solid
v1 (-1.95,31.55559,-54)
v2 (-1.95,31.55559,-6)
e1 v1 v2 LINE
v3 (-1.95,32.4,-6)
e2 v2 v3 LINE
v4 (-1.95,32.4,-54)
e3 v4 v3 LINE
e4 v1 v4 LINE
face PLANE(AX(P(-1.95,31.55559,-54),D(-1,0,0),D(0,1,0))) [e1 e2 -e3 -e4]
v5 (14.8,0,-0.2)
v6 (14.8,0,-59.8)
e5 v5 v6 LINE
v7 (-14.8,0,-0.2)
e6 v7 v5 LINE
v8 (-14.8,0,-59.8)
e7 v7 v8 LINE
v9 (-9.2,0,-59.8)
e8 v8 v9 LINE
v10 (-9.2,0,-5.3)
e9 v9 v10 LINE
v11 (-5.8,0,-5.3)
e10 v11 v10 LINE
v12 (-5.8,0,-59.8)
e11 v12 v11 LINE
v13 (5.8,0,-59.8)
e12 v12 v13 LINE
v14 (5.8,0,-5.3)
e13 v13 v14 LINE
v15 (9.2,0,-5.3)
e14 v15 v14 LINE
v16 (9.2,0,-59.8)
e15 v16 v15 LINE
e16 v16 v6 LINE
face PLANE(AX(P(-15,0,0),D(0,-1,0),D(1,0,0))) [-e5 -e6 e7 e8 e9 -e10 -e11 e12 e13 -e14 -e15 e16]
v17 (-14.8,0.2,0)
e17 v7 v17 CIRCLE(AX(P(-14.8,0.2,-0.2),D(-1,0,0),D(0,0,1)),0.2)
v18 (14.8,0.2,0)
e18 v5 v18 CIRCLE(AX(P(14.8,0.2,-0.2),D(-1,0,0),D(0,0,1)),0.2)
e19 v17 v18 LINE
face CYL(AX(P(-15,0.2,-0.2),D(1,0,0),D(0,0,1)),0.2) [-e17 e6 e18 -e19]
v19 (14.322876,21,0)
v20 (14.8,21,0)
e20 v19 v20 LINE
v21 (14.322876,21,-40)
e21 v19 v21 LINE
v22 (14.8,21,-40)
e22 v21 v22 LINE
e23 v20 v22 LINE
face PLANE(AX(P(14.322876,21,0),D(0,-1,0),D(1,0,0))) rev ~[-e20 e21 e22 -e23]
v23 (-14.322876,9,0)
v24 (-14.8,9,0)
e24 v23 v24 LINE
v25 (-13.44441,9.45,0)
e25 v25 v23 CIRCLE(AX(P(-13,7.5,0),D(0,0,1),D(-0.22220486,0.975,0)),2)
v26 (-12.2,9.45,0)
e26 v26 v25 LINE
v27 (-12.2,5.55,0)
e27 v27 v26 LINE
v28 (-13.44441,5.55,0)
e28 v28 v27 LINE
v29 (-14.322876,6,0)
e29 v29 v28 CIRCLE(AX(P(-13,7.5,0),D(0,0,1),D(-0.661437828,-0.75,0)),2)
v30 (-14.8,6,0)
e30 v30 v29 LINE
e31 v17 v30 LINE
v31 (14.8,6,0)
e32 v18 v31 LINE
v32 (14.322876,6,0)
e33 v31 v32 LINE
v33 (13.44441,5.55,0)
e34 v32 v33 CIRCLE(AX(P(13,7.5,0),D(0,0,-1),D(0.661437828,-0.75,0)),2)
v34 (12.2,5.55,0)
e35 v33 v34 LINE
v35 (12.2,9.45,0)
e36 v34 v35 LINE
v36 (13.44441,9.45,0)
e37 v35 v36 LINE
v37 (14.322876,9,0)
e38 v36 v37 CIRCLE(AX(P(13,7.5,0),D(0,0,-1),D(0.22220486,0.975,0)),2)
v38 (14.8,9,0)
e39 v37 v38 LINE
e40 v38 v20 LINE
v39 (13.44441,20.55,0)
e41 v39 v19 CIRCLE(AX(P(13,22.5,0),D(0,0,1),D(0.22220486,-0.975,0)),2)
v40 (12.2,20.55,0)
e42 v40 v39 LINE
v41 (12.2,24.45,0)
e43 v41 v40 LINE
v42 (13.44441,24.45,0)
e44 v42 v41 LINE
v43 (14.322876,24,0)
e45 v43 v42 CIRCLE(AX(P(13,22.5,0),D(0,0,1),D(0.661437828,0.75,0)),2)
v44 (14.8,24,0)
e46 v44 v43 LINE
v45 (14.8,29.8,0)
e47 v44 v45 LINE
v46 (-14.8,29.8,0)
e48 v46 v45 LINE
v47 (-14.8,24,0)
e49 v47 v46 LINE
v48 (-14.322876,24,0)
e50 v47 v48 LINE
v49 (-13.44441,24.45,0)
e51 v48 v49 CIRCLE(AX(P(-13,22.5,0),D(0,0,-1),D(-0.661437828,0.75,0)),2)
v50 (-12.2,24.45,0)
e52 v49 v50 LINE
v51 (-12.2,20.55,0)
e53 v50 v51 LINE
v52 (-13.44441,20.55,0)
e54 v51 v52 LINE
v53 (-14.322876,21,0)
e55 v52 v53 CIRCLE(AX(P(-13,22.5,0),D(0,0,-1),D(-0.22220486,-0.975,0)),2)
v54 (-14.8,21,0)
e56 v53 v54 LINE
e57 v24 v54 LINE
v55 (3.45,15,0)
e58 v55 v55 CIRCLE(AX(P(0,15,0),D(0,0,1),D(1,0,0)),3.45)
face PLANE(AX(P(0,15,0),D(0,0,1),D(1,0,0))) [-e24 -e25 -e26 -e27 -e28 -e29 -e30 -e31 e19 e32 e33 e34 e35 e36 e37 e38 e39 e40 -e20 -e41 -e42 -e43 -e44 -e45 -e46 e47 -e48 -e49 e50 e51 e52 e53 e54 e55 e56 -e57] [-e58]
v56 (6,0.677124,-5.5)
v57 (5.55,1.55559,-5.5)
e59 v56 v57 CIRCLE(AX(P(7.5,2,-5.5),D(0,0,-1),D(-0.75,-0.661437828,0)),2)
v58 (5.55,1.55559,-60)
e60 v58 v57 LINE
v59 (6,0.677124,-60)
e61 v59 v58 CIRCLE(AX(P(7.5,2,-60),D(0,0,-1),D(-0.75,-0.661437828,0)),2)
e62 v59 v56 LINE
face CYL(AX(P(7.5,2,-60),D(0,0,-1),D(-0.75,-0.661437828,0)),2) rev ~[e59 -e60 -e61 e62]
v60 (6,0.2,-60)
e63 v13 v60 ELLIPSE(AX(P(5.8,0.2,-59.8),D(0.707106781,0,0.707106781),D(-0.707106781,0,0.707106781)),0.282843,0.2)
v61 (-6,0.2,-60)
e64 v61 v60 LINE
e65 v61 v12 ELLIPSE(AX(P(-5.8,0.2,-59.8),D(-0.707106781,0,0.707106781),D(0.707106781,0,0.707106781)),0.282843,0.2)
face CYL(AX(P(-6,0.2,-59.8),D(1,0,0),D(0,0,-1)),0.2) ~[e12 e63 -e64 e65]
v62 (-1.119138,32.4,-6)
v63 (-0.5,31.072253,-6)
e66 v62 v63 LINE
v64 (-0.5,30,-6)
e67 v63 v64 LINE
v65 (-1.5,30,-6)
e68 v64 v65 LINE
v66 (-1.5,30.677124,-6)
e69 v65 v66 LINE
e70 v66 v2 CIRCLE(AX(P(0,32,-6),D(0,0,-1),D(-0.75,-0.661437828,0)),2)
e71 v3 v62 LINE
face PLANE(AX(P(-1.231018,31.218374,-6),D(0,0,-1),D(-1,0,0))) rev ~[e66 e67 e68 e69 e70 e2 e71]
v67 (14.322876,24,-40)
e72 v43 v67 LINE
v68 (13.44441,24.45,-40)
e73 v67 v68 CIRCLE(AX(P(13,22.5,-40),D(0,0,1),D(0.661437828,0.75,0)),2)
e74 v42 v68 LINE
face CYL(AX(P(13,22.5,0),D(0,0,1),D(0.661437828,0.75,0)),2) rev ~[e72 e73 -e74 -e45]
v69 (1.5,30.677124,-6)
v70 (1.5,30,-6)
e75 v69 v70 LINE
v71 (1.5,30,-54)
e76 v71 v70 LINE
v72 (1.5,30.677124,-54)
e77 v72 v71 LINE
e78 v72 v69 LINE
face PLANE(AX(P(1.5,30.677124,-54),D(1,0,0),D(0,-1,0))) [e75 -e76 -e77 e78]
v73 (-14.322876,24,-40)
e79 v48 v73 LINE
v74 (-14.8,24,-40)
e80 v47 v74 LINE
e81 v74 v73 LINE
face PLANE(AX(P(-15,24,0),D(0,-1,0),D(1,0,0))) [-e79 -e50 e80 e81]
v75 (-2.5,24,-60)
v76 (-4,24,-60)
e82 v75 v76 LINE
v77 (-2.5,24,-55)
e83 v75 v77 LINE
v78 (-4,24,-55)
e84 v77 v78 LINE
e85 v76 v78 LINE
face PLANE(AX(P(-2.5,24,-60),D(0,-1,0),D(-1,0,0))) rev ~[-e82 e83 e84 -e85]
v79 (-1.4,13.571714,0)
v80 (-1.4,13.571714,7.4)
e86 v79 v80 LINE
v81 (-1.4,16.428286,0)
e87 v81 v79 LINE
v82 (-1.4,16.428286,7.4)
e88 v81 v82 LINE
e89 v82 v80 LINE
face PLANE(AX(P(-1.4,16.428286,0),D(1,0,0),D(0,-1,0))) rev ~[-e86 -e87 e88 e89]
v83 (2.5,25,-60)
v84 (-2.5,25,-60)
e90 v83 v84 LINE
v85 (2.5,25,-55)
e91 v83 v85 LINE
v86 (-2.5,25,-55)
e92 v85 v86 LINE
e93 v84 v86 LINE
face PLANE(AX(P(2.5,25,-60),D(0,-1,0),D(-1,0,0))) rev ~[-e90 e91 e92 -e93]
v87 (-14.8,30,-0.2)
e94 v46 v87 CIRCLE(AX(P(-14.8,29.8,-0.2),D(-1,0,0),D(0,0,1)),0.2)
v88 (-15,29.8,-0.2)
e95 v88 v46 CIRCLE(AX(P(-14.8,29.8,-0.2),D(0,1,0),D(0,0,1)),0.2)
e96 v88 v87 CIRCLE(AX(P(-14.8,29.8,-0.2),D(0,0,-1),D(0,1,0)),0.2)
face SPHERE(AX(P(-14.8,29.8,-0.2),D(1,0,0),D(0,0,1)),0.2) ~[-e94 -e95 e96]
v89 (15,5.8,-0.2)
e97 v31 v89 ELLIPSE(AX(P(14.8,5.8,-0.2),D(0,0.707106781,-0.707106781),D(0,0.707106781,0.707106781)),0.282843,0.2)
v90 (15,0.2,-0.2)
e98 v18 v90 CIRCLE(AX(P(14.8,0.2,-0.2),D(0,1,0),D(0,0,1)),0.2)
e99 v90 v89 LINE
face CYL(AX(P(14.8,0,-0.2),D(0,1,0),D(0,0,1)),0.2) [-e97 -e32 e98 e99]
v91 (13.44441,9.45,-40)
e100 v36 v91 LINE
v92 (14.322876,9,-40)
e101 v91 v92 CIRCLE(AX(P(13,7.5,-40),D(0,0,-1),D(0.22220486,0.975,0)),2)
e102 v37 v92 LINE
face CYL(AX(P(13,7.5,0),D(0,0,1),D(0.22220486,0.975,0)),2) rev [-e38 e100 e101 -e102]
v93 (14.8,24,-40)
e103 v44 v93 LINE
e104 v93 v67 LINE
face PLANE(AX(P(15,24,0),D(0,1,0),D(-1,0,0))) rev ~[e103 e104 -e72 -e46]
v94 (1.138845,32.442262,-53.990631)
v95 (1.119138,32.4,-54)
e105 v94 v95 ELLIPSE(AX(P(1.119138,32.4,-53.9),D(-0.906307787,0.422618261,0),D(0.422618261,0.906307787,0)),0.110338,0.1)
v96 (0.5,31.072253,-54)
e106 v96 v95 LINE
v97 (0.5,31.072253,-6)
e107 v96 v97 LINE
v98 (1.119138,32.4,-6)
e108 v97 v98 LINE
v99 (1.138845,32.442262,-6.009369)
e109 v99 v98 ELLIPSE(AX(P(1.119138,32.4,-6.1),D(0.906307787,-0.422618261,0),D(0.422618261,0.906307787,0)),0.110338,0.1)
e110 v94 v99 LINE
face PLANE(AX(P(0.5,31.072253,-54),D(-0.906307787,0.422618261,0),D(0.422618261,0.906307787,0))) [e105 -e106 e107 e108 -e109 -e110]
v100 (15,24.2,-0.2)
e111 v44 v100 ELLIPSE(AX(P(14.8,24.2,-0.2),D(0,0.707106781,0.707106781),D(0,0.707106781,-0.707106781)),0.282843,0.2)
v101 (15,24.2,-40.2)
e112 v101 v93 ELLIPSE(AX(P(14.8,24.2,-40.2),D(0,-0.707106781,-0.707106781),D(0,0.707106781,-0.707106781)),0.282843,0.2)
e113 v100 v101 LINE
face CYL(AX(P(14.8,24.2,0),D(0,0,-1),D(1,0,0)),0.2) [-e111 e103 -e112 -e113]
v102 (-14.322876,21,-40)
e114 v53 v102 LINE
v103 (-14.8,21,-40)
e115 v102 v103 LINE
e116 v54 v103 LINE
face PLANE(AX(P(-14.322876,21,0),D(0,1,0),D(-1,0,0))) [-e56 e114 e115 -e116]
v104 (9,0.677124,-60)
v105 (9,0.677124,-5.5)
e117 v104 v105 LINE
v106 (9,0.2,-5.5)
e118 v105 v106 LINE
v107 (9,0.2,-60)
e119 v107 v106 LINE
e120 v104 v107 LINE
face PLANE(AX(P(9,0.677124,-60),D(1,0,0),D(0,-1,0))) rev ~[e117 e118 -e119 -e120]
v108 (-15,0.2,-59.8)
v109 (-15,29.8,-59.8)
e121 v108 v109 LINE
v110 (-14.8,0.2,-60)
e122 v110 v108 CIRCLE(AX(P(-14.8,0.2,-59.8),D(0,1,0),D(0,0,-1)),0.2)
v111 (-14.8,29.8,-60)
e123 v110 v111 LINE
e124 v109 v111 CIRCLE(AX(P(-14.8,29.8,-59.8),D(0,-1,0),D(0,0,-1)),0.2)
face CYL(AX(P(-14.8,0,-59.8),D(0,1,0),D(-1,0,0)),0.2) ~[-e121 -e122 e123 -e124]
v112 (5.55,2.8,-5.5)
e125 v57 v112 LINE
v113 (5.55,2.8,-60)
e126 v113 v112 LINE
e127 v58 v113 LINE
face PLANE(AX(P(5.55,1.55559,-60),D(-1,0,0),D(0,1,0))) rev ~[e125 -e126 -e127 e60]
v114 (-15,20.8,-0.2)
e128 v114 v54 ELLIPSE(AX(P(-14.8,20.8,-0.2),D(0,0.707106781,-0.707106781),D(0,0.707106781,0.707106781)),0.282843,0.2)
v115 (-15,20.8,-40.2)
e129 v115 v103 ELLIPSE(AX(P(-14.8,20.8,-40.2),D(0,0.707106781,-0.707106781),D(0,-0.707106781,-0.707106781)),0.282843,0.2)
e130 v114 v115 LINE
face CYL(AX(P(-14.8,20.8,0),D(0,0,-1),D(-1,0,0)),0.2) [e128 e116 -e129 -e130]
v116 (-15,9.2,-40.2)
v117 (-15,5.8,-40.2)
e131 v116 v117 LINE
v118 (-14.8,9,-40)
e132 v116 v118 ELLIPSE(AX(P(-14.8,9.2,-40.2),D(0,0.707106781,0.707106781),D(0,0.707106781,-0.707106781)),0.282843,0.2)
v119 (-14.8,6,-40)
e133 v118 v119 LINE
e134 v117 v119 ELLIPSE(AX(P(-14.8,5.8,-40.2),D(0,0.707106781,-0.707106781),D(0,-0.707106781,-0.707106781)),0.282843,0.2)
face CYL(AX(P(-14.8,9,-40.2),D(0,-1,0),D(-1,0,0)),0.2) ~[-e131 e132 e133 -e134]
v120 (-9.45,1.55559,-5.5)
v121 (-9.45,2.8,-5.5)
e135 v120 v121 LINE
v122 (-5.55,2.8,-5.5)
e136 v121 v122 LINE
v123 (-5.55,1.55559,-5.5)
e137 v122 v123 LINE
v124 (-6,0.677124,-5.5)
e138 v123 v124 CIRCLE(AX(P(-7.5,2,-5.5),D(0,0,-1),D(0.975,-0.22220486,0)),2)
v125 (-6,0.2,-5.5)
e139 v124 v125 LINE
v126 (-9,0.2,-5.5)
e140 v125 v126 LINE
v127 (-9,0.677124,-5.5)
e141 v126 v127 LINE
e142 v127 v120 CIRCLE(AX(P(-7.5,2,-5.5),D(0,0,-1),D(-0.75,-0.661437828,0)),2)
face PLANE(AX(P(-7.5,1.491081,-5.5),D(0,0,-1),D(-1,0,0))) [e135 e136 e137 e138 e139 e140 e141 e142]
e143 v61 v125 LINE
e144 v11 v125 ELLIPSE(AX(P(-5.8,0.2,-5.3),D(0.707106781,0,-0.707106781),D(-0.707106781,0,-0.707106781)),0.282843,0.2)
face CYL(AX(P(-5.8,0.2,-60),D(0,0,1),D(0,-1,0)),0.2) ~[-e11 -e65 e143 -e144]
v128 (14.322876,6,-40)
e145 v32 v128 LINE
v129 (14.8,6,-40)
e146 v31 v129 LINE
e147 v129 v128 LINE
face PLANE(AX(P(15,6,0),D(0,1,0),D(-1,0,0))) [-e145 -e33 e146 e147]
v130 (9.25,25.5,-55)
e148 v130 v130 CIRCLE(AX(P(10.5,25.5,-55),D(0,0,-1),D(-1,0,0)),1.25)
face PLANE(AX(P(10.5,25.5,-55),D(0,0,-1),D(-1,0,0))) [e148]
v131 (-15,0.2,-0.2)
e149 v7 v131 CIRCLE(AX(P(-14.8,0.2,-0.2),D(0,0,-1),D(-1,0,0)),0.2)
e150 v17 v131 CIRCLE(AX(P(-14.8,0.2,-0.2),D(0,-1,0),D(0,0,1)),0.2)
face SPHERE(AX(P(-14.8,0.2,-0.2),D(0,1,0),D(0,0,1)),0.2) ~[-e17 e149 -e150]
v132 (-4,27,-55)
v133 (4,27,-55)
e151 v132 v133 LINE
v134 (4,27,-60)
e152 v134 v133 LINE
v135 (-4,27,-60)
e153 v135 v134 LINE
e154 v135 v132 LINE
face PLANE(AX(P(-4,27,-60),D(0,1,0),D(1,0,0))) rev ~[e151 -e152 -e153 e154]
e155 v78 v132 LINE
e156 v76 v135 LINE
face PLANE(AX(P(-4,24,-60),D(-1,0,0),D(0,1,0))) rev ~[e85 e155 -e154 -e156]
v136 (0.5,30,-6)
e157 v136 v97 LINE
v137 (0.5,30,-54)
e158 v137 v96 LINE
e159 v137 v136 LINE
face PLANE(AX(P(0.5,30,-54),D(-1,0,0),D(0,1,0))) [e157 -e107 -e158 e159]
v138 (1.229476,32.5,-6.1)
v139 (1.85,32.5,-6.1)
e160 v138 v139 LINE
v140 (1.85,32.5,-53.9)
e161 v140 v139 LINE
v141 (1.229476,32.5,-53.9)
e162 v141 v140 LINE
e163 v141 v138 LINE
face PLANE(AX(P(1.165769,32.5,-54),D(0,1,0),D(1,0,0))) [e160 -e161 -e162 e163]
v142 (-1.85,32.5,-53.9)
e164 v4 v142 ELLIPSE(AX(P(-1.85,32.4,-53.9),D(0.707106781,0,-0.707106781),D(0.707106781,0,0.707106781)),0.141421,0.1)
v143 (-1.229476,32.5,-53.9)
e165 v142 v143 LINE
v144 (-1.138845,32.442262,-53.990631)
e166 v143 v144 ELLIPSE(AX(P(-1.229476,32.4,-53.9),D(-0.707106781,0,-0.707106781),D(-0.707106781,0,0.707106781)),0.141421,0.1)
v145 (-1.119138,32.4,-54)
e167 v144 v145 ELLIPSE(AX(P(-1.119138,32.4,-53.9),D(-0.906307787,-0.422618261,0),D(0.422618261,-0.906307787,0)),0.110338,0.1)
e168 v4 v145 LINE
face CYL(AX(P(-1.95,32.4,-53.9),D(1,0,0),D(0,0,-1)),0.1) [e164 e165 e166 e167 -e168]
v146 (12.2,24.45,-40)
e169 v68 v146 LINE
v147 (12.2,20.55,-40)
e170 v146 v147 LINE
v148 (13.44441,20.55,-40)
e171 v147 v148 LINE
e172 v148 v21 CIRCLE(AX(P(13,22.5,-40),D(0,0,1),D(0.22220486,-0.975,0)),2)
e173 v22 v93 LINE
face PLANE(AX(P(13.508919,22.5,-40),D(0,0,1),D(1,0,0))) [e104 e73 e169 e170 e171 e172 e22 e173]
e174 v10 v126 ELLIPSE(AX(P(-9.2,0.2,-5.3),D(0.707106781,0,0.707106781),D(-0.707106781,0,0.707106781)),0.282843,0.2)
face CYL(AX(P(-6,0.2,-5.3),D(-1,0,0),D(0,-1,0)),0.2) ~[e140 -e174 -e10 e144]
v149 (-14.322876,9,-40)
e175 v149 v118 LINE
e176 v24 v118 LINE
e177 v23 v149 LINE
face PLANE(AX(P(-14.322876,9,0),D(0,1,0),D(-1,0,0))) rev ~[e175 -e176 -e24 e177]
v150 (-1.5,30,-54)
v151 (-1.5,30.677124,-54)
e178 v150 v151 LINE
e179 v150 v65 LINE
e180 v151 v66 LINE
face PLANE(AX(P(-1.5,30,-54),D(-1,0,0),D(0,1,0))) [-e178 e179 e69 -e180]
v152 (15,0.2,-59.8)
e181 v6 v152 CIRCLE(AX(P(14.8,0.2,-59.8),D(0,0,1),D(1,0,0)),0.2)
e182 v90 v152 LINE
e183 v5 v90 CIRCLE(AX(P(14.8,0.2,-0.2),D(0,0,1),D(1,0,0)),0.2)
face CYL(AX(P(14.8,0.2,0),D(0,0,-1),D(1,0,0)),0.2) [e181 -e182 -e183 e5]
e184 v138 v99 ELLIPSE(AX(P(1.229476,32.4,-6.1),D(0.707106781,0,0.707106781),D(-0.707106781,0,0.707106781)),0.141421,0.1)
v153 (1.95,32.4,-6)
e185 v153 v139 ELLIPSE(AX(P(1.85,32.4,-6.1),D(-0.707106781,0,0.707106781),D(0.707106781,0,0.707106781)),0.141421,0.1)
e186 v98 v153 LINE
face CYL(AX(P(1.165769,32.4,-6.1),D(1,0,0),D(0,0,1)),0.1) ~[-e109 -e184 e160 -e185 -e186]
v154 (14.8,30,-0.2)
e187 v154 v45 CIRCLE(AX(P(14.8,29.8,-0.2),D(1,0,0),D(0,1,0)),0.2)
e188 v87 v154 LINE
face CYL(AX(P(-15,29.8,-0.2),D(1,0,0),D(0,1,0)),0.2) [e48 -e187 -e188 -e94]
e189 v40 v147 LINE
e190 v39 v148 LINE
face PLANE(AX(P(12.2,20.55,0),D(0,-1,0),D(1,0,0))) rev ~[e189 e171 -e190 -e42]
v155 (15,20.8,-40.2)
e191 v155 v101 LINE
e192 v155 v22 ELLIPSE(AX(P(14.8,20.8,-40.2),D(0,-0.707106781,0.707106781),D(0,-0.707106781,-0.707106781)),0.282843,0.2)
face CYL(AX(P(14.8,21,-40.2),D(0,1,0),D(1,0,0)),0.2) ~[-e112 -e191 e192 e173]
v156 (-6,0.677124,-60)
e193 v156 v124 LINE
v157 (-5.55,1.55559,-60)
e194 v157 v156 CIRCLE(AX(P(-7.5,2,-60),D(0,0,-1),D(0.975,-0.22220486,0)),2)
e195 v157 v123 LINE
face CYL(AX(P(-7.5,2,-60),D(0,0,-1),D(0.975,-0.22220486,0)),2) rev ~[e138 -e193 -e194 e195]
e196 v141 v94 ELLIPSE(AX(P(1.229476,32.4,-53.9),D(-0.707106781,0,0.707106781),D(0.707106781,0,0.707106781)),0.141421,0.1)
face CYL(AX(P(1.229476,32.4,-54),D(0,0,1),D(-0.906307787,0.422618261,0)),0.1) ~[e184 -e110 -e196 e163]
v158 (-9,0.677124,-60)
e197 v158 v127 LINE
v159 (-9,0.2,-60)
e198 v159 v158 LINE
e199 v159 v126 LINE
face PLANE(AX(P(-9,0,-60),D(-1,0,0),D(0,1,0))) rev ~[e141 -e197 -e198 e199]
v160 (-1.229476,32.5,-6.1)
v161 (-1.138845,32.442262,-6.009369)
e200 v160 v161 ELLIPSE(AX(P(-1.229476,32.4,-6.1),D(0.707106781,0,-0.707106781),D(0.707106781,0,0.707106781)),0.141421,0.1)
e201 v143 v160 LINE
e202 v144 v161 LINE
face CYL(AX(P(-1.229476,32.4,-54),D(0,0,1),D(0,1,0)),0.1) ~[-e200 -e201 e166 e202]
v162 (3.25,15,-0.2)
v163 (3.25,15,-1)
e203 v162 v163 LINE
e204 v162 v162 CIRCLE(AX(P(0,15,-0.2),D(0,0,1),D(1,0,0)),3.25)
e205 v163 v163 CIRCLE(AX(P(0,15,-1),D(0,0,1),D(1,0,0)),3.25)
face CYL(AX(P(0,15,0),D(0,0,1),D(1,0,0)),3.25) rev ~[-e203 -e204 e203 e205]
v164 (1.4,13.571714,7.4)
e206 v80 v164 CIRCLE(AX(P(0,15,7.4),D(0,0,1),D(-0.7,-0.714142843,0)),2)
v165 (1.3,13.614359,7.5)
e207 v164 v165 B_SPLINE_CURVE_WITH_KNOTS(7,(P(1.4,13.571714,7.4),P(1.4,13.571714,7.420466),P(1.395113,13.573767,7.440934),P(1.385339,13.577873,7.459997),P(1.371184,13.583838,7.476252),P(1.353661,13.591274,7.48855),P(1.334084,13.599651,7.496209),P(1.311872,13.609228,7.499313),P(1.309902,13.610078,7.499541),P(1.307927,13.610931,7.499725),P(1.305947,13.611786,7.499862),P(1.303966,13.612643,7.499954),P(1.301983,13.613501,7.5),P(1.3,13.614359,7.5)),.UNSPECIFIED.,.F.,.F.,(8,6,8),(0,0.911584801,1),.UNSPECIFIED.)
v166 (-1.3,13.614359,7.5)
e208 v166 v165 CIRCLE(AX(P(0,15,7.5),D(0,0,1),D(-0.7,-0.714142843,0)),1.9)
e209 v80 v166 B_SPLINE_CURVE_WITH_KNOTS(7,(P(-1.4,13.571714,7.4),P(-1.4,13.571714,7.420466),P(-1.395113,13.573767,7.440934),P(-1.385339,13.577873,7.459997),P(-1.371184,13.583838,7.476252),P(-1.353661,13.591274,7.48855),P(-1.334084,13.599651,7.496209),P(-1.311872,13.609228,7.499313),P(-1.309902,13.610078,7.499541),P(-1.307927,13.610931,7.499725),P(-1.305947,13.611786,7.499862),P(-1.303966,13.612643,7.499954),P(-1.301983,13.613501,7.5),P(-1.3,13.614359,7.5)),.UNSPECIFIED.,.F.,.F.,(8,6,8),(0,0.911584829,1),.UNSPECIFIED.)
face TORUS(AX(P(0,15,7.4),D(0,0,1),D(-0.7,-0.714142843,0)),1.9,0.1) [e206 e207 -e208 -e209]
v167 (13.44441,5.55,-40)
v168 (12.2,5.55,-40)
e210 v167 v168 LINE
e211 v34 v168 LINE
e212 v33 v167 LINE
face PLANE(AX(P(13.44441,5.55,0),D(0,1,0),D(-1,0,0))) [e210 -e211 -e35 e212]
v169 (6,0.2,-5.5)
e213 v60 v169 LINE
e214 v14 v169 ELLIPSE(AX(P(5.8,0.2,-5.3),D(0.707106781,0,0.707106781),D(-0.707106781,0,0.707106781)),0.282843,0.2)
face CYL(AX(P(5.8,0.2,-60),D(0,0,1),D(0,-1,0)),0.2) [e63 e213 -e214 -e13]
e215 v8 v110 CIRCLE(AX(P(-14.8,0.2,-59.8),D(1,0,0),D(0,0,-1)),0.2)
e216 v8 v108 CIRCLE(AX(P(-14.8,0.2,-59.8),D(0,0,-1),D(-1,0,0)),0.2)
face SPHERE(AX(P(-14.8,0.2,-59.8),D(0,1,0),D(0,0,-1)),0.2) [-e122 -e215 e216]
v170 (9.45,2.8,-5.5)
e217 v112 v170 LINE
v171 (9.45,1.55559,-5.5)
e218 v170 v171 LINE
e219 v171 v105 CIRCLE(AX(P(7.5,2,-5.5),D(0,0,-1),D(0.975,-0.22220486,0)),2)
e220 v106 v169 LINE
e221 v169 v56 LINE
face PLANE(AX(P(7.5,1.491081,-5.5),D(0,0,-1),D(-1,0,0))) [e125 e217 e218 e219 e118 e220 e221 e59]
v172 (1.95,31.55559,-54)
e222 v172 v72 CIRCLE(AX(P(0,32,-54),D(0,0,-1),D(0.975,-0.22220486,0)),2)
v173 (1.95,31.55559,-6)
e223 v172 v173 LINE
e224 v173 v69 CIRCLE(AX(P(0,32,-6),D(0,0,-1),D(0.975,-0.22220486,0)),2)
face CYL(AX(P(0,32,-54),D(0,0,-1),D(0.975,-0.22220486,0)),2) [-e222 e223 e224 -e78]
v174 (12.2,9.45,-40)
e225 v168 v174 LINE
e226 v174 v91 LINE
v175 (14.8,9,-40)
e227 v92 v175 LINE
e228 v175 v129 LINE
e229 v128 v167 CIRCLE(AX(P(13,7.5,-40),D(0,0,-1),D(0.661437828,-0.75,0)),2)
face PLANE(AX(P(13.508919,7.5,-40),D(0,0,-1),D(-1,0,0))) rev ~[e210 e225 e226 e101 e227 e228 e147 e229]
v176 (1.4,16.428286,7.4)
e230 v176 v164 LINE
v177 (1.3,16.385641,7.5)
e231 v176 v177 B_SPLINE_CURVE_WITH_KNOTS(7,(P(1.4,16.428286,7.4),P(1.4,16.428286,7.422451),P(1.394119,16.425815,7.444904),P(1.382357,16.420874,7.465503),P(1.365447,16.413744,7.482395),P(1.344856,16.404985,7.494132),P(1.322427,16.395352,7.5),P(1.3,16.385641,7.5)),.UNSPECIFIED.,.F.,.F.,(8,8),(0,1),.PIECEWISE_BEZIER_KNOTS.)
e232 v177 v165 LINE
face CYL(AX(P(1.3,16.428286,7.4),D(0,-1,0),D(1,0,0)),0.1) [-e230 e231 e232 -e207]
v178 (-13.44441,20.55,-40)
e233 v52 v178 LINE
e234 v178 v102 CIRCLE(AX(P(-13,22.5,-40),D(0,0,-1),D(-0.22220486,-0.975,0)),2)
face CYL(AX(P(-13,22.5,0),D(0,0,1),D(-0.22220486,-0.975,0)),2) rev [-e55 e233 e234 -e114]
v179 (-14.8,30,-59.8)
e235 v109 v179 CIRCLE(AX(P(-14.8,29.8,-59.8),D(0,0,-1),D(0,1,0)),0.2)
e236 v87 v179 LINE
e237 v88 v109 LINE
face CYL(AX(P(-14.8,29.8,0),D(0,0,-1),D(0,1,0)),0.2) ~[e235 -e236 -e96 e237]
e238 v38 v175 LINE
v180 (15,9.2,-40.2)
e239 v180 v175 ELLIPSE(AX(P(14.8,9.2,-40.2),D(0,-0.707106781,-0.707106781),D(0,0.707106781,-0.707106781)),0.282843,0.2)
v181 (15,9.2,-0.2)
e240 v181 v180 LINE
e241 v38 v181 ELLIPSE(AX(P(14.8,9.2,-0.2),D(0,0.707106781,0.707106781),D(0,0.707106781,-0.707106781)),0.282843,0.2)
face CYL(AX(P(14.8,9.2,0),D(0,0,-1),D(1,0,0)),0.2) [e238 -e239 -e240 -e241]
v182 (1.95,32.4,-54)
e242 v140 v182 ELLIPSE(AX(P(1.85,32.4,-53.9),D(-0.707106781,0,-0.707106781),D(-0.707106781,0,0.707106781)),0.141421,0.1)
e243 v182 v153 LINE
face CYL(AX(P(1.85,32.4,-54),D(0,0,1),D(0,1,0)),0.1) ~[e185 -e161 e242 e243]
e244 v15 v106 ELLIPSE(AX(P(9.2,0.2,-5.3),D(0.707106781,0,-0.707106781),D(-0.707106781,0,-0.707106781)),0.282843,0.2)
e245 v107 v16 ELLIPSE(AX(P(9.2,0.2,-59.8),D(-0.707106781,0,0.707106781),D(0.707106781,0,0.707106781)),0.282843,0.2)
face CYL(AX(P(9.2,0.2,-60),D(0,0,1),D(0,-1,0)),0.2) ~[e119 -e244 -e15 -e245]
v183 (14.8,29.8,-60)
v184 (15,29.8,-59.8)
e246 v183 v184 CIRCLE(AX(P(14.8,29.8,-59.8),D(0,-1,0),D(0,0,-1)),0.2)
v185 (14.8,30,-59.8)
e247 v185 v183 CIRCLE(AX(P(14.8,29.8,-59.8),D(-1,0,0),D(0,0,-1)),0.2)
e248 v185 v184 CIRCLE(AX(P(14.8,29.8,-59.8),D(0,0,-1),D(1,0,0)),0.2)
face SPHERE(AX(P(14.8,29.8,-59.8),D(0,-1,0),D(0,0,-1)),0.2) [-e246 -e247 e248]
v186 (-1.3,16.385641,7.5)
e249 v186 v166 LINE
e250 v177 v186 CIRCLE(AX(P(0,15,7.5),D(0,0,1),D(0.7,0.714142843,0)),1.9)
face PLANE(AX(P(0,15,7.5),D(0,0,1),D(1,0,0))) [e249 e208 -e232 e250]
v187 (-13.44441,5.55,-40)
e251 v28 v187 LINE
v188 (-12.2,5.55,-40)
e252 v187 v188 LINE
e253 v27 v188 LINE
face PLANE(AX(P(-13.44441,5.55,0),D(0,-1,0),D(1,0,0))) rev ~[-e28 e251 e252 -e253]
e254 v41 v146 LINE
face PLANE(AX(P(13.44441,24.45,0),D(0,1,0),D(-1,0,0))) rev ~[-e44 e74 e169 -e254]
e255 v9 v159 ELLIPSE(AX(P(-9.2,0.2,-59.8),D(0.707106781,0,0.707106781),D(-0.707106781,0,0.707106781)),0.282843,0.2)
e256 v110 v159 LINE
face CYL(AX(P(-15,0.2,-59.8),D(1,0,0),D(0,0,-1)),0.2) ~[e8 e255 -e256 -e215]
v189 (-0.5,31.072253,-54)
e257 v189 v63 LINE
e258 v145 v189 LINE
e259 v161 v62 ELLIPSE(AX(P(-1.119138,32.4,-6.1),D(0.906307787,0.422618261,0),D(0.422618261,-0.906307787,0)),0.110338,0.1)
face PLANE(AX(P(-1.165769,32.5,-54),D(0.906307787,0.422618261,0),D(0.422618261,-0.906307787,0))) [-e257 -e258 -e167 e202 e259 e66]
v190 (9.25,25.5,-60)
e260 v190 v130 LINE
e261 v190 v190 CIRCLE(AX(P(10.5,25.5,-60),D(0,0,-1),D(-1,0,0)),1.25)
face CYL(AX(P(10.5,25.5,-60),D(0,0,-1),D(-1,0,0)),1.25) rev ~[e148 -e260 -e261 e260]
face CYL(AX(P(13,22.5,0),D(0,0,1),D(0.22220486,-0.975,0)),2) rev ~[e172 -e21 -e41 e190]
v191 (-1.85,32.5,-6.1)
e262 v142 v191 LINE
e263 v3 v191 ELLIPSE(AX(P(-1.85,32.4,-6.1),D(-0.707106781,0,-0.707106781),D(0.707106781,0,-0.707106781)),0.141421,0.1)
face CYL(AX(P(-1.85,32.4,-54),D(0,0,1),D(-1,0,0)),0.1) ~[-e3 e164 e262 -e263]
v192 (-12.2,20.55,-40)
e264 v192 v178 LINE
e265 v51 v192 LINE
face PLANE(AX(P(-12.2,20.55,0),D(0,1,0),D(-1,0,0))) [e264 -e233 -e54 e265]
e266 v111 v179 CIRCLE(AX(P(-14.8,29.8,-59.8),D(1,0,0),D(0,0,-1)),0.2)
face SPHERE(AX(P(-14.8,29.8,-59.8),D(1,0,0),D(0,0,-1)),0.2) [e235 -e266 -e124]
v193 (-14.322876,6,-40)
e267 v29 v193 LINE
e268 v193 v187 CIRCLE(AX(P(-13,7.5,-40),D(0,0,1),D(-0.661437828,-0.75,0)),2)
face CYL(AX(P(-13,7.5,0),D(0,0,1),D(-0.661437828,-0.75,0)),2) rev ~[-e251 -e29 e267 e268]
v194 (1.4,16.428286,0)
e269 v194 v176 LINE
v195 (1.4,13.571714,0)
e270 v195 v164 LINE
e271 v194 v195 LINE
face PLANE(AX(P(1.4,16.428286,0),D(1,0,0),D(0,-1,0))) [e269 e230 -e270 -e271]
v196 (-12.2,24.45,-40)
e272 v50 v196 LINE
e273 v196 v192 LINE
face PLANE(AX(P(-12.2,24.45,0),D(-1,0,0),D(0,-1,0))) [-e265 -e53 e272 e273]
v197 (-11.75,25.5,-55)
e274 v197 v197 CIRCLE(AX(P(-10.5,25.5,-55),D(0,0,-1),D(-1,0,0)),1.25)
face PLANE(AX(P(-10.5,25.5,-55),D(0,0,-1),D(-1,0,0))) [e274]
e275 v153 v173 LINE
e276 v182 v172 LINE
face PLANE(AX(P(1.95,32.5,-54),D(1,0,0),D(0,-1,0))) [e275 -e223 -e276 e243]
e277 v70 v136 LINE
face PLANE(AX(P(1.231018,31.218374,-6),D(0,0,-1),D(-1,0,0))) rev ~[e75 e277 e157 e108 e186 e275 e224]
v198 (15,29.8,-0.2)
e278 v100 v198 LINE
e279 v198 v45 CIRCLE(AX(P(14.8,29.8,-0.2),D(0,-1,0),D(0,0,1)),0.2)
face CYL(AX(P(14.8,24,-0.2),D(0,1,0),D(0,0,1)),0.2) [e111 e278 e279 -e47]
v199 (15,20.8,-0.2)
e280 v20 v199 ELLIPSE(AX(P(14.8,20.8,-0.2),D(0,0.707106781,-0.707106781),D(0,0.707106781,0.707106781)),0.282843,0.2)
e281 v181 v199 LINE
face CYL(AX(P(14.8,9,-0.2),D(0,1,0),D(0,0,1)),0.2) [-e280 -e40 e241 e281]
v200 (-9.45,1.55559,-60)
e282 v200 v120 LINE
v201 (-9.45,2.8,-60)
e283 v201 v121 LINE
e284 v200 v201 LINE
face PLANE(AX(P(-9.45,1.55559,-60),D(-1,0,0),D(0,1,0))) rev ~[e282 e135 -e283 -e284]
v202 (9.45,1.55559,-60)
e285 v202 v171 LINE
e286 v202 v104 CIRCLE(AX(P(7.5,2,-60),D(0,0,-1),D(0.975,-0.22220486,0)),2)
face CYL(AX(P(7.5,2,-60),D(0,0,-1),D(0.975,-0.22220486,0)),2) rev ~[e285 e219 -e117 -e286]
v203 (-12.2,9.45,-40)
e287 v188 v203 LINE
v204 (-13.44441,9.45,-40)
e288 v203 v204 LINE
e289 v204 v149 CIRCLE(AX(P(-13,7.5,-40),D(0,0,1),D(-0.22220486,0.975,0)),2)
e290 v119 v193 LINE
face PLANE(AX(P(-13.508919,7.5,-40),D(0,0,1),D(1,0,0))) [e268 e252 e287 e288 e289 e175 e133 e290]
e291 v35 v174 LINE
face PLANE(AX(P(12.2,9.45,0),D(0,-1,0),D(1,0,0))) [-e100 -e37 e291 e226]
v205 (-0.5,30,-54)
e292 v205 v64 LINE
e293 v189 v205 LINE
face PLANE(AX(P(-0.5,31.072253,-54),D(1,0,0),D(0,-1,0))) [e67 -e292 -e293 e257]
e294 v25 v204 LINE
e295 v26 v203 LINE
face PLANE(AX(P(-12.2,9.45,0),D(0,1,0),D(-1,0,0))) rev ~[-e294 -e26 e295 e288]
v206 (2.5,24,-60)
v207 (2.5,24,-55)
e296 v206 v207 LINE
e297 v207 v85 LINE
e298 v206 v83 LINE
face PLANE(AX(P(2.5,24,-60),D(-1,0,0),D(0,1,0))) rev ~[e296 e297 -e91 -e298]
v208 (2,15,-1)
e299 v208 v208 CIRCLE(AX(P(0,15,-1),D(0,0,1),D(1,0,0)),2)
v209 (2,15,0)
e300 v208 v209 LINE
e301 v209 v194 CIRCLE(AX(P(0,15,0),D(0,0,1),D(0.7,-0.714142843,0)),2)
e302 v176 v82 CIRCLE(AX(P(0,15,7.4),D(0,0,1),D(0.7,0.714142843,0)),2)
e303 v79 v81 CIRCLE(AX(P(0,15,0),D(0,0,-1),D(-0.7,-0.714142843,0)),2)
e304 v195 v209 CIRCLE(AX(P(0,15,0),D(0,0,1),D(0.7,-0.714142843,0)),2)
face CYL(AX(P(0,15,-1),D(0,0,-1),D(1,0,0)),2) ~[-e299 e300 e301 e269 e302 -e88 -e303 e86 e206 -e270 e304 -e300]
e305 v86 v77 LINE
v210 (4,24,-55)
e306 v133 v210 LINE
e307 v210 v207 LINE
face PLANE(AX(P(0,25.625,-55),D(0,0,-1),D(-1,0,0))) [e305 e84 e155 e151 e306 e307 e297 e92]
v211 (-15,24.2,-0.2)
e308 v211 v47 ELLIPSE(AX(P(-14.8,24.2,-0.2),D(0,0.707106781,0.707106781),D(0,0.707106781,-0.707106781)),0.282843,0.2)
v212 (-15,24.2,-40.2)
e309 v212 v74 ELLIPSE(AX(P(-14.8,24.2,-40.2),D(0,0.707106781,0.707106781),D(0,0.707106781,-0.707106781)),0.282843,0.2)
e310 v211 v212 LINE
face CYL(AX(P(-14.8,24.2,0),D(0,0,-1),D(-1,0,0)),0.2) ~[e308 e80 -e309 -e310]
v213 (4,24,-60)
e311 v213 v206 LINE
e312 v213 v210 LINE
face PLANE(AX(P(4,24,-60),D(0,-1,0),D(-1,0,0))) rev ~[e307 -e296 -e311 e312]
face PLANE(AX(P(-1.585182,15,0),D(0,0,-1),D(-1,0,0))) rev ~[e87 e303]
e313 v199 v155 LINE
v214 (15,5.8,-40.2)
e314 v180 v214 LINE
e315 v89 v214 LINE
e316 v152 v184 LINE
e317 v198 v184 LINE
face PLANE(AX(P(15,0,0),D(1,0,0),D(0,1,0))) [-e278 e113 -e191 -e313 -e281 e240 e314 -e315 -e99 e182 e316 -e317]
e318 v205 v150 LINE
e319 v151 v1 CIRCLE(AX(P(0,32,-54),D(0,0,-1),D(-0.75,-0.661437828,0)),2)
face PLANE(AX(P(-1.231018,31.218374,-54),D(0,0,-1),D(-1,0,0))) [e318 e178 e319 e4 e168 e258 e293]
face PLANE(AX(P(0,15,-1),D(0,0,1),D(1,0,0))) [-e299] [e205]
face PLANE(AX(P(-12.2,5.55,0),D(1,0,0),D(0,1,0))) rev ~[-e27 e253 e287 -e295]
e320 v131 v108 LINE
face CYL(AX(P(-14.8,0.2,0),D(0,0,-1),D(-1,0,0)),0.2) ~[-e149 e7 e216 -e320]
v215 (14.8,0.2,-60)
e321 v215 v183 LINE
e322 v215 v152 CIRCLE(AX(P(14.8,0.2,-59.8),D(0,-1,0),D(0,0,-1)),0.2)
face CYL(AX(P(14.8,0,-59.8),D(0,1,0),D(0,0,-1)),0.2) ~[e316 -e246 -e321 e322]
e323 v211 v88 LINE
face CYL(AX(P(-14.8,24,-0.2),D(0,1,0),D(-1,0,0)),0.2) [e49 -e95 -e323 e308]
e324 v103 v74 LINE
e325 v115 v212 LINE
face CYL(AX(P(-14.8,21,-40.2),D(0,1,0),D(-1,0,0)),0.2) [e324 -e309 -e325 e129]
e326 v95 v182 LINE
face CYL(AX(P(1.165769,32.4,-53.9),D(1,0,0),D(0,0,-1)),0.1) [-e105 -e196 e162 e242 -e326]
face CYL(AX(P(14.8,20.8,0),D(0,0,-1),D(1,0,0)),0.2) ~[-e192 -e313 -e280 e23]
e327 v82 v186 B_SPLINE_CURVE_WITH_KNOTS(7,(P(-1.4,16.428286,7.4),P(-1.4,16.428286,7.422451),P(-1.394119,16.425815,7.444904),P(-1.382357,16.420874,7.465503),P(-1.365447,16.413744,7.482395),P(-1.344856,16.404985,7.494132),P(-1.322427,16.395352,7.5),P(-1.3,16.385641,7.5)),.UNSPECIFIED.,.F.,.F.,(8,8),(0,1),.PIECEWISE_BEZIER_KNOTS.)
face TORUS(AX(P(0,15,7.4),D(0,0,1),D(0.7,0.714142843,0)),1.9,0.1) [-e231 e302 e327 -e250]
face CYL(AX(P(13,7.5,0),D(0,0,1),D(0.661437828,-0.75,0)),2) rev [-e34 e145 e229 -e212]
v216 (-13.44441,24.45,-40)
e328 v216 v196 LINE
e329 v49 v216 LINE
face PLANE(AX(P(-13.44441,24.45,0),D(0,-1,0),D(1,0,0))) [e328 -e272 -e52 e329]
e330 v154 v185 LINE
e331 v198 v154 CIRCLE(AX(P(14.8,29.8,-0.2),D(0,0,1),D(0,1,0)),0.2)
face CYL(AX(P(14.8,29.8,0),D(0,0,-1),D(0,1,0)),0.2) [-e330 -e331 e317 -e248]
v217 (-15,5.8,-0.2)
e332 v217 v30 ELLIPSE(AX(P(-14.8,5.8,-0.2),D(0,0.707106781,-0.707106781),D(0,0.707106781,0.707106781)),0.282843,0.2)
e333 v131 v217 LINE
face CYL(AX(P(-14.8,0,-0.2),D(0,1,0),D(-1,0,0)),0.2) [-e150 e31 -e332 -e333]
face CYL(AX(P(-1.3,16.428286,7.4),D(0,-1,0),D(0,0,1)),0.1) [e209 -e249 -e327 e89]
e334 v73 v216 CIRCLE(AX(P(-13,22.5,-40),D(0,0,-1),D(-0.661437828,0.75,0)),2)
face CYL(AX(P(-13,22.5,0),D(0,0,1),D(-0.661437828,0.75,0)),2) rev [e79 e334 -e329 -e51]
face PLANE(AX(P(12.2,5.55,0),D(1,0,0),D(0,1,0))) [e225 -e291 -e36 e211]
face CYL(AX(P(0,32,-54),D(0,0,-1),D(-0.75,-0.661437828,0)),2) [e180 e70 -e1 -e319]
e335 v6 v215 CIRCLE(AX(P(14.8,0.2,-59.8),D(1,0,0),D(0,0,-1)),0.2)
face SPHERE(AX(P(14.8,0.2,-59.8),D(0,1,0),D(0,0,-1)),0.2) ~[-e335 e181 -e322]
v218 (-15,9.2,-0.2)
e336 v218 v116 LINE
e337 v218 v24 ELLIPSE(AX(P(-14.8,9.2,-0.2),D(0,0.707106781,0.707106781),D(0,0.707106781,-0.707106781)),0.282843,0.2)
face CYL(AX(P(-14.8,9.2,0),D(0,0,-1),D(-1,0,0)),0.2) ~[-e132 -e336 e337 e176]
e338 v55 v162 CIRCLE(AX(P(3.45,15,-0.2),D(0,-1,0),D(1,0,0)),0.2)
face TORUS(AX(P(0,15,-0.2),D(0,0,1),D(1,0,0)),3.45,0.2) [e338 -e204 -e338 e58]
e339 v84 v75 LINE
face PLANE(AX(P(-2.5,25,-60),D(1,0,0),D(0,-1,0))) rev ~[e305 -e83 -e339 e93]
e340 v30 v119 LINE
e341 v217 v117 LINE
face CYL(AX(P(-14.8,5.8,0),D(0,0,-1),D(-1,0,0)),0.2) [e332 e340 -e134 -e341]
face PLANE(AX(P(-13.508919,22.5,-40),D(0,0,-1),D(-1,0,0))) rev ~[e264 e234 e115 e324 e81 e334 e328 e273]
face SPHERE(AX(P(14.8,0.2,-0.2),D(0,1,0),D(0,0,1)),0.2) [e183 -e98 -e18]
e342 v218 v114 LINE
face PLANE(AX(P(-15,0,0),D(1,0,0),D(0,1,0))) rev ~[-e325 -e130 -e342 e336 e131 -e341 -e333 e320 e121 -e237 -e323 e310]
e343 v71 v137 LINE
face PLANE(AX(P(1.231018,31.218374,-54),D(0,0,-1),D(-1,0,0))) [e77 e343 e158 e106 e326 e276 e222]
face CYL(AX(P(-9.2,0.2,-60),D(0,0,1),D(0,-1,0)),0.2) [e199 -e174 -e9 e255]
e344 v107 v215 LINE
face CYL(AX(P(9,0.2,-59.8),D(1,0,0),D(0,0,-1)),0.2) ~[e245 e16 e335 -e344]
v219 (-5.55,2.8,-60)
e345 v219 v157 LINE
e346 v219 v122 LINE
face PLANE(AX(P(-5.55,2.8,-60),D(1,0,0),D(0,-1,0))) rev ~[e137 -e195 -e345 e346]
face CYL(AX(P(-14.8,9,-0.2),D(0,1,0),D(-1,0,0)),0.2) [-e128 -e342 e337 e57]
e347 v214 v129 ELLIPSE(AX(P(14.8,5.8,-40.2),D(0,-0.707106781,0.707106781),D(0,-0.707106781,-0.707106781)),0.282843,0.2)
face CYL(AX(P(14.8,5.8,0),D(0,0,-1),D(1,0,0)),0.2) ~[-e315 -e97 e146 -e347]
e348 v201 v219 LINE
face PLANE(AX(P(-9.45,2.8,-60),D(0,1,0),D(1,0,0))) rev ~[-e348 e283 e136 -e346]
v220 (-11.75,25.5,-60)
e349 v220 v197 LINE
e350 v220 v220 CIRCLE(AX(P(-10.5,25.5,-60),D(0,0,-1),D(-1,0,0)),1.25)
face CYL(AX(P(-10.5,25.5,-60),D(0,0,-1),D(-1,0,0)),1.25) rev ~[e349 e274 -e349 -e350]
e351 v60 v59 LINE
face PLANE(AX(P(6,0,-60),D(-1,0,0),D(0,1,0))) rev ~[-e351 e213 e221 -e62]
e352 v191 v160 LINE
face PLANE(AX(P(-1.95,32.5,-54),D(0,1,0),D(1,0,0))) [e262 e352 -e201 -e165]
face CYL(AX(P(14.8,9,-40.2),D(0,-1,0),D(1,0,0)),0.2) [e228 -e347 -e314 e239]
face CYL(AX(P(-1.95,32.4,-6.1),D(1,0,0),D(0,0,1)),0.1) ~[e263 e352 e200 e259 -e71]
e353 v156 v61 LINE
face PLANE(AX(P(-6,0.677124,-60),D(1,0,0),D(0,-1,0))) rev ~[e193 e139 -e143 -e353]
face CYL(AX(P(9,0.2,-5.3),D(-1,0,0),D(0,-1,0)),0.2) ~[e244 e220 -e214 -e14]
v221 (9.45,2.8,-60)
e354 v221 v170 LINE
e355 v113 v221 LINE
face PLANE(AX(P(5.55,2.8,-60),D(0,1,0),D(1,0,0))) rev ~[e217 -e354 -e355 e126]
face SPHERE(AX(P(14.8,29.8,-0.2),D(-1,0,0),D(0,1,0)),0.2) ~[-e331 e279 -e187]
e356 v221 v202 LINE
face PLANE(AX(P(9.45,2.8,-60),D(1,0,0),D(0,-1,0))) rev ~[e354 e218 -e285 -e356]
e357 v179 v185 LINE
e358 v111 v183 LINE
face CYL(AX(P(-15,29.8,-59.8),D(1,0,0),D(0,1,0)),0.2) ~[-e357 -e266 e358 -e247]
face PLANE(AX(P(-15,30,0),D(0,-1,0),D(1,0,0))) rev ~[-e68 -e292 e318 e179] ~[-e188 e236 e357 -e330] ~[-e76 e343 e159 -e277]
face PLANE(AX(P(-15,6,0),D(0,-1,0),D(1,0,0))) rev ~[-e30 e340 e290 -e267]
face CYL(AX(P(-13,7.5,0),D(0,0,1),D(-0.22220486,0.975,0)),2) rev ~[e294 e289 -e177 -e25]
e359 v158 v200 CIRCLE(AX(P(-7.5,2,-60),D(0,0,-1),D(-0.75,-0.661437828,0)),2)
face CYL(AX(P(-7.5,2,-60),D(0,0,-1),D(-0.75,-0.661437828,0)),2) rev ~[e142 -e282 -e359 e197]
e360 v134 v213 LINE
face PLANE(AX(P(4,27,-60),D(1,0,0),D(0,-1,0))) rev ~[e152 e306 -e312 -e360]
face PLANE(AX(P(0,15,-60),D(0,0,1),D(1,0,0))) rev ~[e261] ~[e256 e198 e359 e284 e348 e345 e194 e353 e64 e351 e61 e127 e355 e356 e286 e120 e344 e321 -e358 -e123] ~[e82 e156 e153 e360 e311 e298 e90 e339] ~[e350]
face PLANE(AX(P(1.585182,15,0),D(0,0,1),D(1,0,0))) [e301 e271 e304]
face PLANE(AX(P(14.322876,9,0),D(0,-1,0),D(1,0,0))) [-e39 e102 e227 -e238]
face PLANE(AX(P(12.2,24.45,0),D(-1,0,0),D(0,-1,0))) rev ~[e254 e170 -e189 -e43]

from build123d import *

# Parameters (mm, degrees)
SKETCH_1_W          = 30
SKETCH_1_H          = 30
EXTRUDE_1_DEPTH     = 60
CUT_EXTRUDE_1_DEPTH = 54.5
CUT_EXTRUDE_START   = -60
CUT_EXTRUDE_2_DEPTH = 40
EXTRUDE_START       = -6
EXTRUDE_2_DEPTH     = 48
FILLET_1_R          = 0.1
SKETCH_6_R          = 3.25
CUT_EXTRUDE_3_DEPTH = 1
SKETCH_7_R          = 2
EXTRUDE_3_DEPTH     = 8.5
CUT_EXTRUDE_START_2 = -7.5
CUT_EXTRUDE_5_DEPTH = 7.5
SKETCH_10_R         = 1.25
CUT_EXTRUDE_6_DEPTH = 5
CUT_EXTRUDE_7_DEPTH = 5
FILLET_2_R          = 0.2
FILLET_3_R          = 0.1


with BuildPart() as part:
    # 草图1 → 凸台-拉伸1 (new body)
    with BuildSketch(Plane.XY):
        with Locations((0, 15)):
            Rectangle(SKETCH_1_W, SKETCH_1_H)
    extrude(amount=-EXTRUDE_1_DEPTH)

    # 草图2 → 切除-拉伸1 (cut)
    with BuildSketch(Plane(origin=(0, 0, -60), x_dir=(-1, 0, 0), z_dir=(0, 0, -1))):
        with BuildLine():
            Line((-9, 0.677124344), (-9, 0))
            Line((-9, 0), (-6, 0))
            Line((-6, 0), (-6, 0.677124344))
            ThreePointArc((-6, 0.677124344), (-5.719957697, 1.088161527), (-5.55, 1.555590279))
            Line((-5.55, 1.555590279), (-5.55, 2.8))
            Line((-5.55, 2.8), (-9.45, 2.8))
            Line((-9.45, 2.8), (-9.45, 1.555590279))
            ThreePointArc((-9.45, 1.555590279), (-9.280042303, 1.088161527), (-9, 0.677124344))
        make_face()
        with BuildLine():
            Line((5.55, 2.8), (5.55, 1.555590279))
            ThreePointArc((5.55, 1.555590279), (5.719957697, 1.088161527), (6, 0.677124344))
            Line((6, 0.677124344), (6, 0))
            Line((6, 0), (9, 0))
            Line((9, 0), (9, 0.677124344))
            ThreePointArc((9, 0.677124344), (9.280042303, 1.088161527), (9.45, 1.555590279))
            Line((9.45, 1.555590279), (9.45, 2.8))
            Line((9.45, 2.8), (5.55, 2.8))
        make_face()
    extrude(amount=-CUT_EXTRUDE_1_DEPTH, mode=Mode.SUBTRACT)

    # 草图3 → 切除-拉伸2 (cut)
    with BuildSketch(Plane(origin=(0, 0, -60), x_dir=(-1, 0, 0), z_dir=(0, 0, -1)).offset(CUT_EXTRUDE_START)):
        with BuildLine():
            Line((-14.322875656, 9), (-15, 9))
            Line((-15, 9), (-15, 6))
            Line((-15, 6), (-14.322875656, 6))
            ThreePointArc((-14.322875656, 6), (-13.911838473, 5.719957697), (-13.444409721, 5.55))
            Line((-13.444409721, 5.55), (-12.2, 5.55))
            Line((-12.2, 5.55), (-12.2, 9.45))
            Line((-12.2, 9.45), (-13.444409721, 9.45))
            ThreePointArc((-13.444409721, 9.45), (-13.911838473, 9.280042303), (-14.322875656, 9))
        make_face()
        with BuildLine():
            Line((-12.2, 20.55), (-13.444409721, 20.55))
            ThreePointArc((-13.444409721, 20.55), (-13.911838473, 20.719957697), (-14.322875656, 21))
            Line((-14.322875656, 21), (-15, 21))
            Line((-15, 21), (-15, 24))
            Line((-15, 24), (-14.322875656, 24))
            ThreePointArc((-14.322875656, 24), (-13.911838473, 24.280042303), (-13.444409721, 24.45))
            Line((-13.444409721, 24.45), (-12.2, 24.45))
            Line((-12.2, 24.45), (-12.2, 20.55))
        make_face()
        with BuildLine():
            Line((14.322875656, 21), (15, 21))
            Line((15, 21), (15, 24))
            Line((15, 24), (14.322875656, 24))
            ThreePointArc((14.322875656, 24), (13.911838473, 24.280042303), (13.444409721, 24.45))
            Line((13.444409721, 24.45), (12.2, 24.45))
            Line((12.2, 24.45), (12.2, 20.55))
            Line((12.2, 20.55), (13.444409721, 20.55))
            ThreePointArc((13.444409721, 20.55), (13.911838473, 20.719957697), (14.322875656, 21))
        make_face()
        with BuildLine():
            Line((12.2, 9.45), (13.444409721, 9.45))
            ThreePointArc((13.444409721, 9.45), (13.911838473, 9.280042303), (14.322875656, 9))
            Line((14.322875656, 9), (15, 9))
            Line((15, 9), (15, 6))
            Line((15, 6), (14.322875656, 6))
            ThreePointArc((14.322875656, 6), (13.911838473, 5.719957697), (13.444409721, 5.55))
            Line((13.444409721, 5.55), (12.2, 5.55))
            Line((12.2, 5.55), (12.2, 9.45))
        make_face()
    extrude(amount=CUT_EXTRUDE_2_DEPTH, mode=Mode.SUBTRACT)

    # 草图5 → 凸台-拉伸2 (add)
    with BuildSketch(Plane(origin=(0, 0, -60), x_dir=(-1, 0, 0), z_dir=(0, 0, -1)).offset(EXTRUDE_START)):
        with BuildLine():
            Line((-1.5, 30.677124344), (-1.5, 30))
            Line((-1.5, 30), (-0.5, 30))
            Line((-0.5, 30), (-0.5, 31.07225346))
            Line((-0.5, 31.07225346), (-1.165769145, 32.5))
            Line((-1.165769145, 32.5), (-1.95, 32.5))
            Line((-1.95, 32.5), (-1.95, 31.555590279))
            ThreePointArc((-1.95, 31.555590279), (-1.780042303, 31.088161527), (-1.5, 30.677124344))
        make_face()
        with BuildLine():
            Line((1.5, 30), (1.5, 30.677124344))
            ThreePointArc((1.5, 30.677124344), (1.780042303, 31.088161527), (1.95, 31.555590279))
            Line((1.95, 31.555590279), (1.95, 32.5))
            Line((1.95, 32.5), (1.165769145, 32.5))
            Line((1.165769145, 32.5), (0.5, 31.07225346))
            Line((0.5, 31.07225346), (0.5, 30))
            Line((0.5, 30), (1.5, 30))
        make_face()
    extrude(amount=-EXTRUDE_2_DEPTH)

    # 圆角1
    fillet_1_edges = [part.edges().sort_by_distance(p)[0] for p in [
        (1.557884573, 32.5, -6),
        (1.95, 32.5, -30),
        (1.165769145, 32.5, -30),
        (1.557884573, 32.5, -54),
        (-1.557884573, 32.5, -6),
        (-1.165769145, 32.5, -30),
        (-1.95, 32.5, -30),
        (-1.557884573, 32.5, -54),
    ]]
    fillet(fillet_1_edges, radius=FILLET_1_R)

    # 草图6 → 切除-拉伸3 (cut)
    with BuildSketch(Plane.XY):
        with Locations((0, 15)):
            Circle(SKETCH_6_R)
    extrude(amount=-CUT_EXTRUDE_3_DEPTH, mode=Mode.SUBTRACT)

    # 草图7 → 凸台-拉伸3 (add)
    with BuildSketch(Plane.XY.offset(-1)):
        with Locations((0, 15)):
            Circle(SKETCH_7_R)
    extrude(amount=EXTRUDE_3_DEPTH)

    # 草图9 → 切除-拉伸5 (cut)
    with BuildSketch(Plane.XY.offset(7.5).offset(CUT_EXTRUDE_START_2)):
        with BuildLine():
            Line((-1.4, 16.428285686), (-1.4, 13.571714314))
            ThreePointArc((-1.4, 13.571714314), (-2, 15), (-1.4, 16.428285686))
        make_face()
        with BuildLine():
            Line((1.4, 16.428285686), (1.4, 13.571714314))
            ThreePointArc((1.4, 13.571714314), (2, 15), (1.4, 16.428285686))
        make_face()
    extrude(amount=CUT_EXTRUDE_5_DEPTH, mode=Mode.SUBTRACT)

    # 草图10 → 切除-拉伸6 (cut)
    with BuildSketch(Plane(origin=(0, 0, -60), x_dir=(-1, 0, 0), z_dir=(0, 0, -1))):
        with Locations((-10.5, 25.5)):
            Circle(SKETCH_10_R)
        with Locations((10.5, 25.5)):
            Circle(SKETCH_10_R)
    extrude(amount=-CUT_EXTRUDE_6_DEPTH, mode=Mode.SUBTRACT)

    # 草图11 → 切除-拉伸7 (cut)
    with BuildSketch(Plane(origin=(0, 0, -60), x_dir=(-1, 0, 0), z_dir=(0, 0, -1))):
        Polygon((2.5, 24), (4, 24), (4, 27), (-4, 27), (-4, 24), (-2.5, 24), (-2.5, 25), (2.5, 25), align=None)
    extrude(amount=-CUT_EXTRUDE_7_DEPTH, mode=Mode.SUBTRACT)

    # 圆角2
    fillet_2_edges = [part.edges().sort_by_distance(p)[0] for p in [
        (15, 15, -60),
        (-15, 15, 0),
        (-15, 21, -20),
        (-15, 24, -20),
        (-15, 22.5, -40),
        (-15, 3, 0),
        (0, 30, -60),
        (-15, 6, -20),
        (-15, 9, -20),
        (-15, 7.5, -40),
        (12, 0, -60),
        (7.5, 0, -5.5),
        (6, 0, -32.75),
        (9, 0, -32.75),
        (-3.25, 15, 0),
        (0, 0, -60),
        (-15, 15, -60),
        (-7.5, 0, -5.5),
        (-9, 0, -32.75),
        (-6, 0, -32.75),
        (0, 30, 0),
        (15, 3, 0),
        (0, 0, 0),
        (-15, 27, 0),
        (15, 15, 0),
        (15, 9, -20),
        (15, 6, -20),
        (-12, 0, -60),
        (15, 7.5, -40),
        (-15, 30, -30),
        (15, 30, -30),
        (15, 0, -30),
        (-15, 0, -30),
        (15, 27, 0),
        (15, 24, -20),
        (15, 21, -20),
        (15, 22.5, -40),
    ]]
    fillet(fillet_2_edges, radius=FILLET_2_R)

    # 圆角3
    fillet_3_edges = [part.edges().sort_by_distance(p)[0] for p in [
        (0, 17, 7.5),
        (1.4, 15, 7.5),
        (0, 13, 7.5),
        (-1.4, 15, 7.5),
    ]]
    fillet(fillet_3_edges, radius=FILLET_3_R)


solid = part.part
